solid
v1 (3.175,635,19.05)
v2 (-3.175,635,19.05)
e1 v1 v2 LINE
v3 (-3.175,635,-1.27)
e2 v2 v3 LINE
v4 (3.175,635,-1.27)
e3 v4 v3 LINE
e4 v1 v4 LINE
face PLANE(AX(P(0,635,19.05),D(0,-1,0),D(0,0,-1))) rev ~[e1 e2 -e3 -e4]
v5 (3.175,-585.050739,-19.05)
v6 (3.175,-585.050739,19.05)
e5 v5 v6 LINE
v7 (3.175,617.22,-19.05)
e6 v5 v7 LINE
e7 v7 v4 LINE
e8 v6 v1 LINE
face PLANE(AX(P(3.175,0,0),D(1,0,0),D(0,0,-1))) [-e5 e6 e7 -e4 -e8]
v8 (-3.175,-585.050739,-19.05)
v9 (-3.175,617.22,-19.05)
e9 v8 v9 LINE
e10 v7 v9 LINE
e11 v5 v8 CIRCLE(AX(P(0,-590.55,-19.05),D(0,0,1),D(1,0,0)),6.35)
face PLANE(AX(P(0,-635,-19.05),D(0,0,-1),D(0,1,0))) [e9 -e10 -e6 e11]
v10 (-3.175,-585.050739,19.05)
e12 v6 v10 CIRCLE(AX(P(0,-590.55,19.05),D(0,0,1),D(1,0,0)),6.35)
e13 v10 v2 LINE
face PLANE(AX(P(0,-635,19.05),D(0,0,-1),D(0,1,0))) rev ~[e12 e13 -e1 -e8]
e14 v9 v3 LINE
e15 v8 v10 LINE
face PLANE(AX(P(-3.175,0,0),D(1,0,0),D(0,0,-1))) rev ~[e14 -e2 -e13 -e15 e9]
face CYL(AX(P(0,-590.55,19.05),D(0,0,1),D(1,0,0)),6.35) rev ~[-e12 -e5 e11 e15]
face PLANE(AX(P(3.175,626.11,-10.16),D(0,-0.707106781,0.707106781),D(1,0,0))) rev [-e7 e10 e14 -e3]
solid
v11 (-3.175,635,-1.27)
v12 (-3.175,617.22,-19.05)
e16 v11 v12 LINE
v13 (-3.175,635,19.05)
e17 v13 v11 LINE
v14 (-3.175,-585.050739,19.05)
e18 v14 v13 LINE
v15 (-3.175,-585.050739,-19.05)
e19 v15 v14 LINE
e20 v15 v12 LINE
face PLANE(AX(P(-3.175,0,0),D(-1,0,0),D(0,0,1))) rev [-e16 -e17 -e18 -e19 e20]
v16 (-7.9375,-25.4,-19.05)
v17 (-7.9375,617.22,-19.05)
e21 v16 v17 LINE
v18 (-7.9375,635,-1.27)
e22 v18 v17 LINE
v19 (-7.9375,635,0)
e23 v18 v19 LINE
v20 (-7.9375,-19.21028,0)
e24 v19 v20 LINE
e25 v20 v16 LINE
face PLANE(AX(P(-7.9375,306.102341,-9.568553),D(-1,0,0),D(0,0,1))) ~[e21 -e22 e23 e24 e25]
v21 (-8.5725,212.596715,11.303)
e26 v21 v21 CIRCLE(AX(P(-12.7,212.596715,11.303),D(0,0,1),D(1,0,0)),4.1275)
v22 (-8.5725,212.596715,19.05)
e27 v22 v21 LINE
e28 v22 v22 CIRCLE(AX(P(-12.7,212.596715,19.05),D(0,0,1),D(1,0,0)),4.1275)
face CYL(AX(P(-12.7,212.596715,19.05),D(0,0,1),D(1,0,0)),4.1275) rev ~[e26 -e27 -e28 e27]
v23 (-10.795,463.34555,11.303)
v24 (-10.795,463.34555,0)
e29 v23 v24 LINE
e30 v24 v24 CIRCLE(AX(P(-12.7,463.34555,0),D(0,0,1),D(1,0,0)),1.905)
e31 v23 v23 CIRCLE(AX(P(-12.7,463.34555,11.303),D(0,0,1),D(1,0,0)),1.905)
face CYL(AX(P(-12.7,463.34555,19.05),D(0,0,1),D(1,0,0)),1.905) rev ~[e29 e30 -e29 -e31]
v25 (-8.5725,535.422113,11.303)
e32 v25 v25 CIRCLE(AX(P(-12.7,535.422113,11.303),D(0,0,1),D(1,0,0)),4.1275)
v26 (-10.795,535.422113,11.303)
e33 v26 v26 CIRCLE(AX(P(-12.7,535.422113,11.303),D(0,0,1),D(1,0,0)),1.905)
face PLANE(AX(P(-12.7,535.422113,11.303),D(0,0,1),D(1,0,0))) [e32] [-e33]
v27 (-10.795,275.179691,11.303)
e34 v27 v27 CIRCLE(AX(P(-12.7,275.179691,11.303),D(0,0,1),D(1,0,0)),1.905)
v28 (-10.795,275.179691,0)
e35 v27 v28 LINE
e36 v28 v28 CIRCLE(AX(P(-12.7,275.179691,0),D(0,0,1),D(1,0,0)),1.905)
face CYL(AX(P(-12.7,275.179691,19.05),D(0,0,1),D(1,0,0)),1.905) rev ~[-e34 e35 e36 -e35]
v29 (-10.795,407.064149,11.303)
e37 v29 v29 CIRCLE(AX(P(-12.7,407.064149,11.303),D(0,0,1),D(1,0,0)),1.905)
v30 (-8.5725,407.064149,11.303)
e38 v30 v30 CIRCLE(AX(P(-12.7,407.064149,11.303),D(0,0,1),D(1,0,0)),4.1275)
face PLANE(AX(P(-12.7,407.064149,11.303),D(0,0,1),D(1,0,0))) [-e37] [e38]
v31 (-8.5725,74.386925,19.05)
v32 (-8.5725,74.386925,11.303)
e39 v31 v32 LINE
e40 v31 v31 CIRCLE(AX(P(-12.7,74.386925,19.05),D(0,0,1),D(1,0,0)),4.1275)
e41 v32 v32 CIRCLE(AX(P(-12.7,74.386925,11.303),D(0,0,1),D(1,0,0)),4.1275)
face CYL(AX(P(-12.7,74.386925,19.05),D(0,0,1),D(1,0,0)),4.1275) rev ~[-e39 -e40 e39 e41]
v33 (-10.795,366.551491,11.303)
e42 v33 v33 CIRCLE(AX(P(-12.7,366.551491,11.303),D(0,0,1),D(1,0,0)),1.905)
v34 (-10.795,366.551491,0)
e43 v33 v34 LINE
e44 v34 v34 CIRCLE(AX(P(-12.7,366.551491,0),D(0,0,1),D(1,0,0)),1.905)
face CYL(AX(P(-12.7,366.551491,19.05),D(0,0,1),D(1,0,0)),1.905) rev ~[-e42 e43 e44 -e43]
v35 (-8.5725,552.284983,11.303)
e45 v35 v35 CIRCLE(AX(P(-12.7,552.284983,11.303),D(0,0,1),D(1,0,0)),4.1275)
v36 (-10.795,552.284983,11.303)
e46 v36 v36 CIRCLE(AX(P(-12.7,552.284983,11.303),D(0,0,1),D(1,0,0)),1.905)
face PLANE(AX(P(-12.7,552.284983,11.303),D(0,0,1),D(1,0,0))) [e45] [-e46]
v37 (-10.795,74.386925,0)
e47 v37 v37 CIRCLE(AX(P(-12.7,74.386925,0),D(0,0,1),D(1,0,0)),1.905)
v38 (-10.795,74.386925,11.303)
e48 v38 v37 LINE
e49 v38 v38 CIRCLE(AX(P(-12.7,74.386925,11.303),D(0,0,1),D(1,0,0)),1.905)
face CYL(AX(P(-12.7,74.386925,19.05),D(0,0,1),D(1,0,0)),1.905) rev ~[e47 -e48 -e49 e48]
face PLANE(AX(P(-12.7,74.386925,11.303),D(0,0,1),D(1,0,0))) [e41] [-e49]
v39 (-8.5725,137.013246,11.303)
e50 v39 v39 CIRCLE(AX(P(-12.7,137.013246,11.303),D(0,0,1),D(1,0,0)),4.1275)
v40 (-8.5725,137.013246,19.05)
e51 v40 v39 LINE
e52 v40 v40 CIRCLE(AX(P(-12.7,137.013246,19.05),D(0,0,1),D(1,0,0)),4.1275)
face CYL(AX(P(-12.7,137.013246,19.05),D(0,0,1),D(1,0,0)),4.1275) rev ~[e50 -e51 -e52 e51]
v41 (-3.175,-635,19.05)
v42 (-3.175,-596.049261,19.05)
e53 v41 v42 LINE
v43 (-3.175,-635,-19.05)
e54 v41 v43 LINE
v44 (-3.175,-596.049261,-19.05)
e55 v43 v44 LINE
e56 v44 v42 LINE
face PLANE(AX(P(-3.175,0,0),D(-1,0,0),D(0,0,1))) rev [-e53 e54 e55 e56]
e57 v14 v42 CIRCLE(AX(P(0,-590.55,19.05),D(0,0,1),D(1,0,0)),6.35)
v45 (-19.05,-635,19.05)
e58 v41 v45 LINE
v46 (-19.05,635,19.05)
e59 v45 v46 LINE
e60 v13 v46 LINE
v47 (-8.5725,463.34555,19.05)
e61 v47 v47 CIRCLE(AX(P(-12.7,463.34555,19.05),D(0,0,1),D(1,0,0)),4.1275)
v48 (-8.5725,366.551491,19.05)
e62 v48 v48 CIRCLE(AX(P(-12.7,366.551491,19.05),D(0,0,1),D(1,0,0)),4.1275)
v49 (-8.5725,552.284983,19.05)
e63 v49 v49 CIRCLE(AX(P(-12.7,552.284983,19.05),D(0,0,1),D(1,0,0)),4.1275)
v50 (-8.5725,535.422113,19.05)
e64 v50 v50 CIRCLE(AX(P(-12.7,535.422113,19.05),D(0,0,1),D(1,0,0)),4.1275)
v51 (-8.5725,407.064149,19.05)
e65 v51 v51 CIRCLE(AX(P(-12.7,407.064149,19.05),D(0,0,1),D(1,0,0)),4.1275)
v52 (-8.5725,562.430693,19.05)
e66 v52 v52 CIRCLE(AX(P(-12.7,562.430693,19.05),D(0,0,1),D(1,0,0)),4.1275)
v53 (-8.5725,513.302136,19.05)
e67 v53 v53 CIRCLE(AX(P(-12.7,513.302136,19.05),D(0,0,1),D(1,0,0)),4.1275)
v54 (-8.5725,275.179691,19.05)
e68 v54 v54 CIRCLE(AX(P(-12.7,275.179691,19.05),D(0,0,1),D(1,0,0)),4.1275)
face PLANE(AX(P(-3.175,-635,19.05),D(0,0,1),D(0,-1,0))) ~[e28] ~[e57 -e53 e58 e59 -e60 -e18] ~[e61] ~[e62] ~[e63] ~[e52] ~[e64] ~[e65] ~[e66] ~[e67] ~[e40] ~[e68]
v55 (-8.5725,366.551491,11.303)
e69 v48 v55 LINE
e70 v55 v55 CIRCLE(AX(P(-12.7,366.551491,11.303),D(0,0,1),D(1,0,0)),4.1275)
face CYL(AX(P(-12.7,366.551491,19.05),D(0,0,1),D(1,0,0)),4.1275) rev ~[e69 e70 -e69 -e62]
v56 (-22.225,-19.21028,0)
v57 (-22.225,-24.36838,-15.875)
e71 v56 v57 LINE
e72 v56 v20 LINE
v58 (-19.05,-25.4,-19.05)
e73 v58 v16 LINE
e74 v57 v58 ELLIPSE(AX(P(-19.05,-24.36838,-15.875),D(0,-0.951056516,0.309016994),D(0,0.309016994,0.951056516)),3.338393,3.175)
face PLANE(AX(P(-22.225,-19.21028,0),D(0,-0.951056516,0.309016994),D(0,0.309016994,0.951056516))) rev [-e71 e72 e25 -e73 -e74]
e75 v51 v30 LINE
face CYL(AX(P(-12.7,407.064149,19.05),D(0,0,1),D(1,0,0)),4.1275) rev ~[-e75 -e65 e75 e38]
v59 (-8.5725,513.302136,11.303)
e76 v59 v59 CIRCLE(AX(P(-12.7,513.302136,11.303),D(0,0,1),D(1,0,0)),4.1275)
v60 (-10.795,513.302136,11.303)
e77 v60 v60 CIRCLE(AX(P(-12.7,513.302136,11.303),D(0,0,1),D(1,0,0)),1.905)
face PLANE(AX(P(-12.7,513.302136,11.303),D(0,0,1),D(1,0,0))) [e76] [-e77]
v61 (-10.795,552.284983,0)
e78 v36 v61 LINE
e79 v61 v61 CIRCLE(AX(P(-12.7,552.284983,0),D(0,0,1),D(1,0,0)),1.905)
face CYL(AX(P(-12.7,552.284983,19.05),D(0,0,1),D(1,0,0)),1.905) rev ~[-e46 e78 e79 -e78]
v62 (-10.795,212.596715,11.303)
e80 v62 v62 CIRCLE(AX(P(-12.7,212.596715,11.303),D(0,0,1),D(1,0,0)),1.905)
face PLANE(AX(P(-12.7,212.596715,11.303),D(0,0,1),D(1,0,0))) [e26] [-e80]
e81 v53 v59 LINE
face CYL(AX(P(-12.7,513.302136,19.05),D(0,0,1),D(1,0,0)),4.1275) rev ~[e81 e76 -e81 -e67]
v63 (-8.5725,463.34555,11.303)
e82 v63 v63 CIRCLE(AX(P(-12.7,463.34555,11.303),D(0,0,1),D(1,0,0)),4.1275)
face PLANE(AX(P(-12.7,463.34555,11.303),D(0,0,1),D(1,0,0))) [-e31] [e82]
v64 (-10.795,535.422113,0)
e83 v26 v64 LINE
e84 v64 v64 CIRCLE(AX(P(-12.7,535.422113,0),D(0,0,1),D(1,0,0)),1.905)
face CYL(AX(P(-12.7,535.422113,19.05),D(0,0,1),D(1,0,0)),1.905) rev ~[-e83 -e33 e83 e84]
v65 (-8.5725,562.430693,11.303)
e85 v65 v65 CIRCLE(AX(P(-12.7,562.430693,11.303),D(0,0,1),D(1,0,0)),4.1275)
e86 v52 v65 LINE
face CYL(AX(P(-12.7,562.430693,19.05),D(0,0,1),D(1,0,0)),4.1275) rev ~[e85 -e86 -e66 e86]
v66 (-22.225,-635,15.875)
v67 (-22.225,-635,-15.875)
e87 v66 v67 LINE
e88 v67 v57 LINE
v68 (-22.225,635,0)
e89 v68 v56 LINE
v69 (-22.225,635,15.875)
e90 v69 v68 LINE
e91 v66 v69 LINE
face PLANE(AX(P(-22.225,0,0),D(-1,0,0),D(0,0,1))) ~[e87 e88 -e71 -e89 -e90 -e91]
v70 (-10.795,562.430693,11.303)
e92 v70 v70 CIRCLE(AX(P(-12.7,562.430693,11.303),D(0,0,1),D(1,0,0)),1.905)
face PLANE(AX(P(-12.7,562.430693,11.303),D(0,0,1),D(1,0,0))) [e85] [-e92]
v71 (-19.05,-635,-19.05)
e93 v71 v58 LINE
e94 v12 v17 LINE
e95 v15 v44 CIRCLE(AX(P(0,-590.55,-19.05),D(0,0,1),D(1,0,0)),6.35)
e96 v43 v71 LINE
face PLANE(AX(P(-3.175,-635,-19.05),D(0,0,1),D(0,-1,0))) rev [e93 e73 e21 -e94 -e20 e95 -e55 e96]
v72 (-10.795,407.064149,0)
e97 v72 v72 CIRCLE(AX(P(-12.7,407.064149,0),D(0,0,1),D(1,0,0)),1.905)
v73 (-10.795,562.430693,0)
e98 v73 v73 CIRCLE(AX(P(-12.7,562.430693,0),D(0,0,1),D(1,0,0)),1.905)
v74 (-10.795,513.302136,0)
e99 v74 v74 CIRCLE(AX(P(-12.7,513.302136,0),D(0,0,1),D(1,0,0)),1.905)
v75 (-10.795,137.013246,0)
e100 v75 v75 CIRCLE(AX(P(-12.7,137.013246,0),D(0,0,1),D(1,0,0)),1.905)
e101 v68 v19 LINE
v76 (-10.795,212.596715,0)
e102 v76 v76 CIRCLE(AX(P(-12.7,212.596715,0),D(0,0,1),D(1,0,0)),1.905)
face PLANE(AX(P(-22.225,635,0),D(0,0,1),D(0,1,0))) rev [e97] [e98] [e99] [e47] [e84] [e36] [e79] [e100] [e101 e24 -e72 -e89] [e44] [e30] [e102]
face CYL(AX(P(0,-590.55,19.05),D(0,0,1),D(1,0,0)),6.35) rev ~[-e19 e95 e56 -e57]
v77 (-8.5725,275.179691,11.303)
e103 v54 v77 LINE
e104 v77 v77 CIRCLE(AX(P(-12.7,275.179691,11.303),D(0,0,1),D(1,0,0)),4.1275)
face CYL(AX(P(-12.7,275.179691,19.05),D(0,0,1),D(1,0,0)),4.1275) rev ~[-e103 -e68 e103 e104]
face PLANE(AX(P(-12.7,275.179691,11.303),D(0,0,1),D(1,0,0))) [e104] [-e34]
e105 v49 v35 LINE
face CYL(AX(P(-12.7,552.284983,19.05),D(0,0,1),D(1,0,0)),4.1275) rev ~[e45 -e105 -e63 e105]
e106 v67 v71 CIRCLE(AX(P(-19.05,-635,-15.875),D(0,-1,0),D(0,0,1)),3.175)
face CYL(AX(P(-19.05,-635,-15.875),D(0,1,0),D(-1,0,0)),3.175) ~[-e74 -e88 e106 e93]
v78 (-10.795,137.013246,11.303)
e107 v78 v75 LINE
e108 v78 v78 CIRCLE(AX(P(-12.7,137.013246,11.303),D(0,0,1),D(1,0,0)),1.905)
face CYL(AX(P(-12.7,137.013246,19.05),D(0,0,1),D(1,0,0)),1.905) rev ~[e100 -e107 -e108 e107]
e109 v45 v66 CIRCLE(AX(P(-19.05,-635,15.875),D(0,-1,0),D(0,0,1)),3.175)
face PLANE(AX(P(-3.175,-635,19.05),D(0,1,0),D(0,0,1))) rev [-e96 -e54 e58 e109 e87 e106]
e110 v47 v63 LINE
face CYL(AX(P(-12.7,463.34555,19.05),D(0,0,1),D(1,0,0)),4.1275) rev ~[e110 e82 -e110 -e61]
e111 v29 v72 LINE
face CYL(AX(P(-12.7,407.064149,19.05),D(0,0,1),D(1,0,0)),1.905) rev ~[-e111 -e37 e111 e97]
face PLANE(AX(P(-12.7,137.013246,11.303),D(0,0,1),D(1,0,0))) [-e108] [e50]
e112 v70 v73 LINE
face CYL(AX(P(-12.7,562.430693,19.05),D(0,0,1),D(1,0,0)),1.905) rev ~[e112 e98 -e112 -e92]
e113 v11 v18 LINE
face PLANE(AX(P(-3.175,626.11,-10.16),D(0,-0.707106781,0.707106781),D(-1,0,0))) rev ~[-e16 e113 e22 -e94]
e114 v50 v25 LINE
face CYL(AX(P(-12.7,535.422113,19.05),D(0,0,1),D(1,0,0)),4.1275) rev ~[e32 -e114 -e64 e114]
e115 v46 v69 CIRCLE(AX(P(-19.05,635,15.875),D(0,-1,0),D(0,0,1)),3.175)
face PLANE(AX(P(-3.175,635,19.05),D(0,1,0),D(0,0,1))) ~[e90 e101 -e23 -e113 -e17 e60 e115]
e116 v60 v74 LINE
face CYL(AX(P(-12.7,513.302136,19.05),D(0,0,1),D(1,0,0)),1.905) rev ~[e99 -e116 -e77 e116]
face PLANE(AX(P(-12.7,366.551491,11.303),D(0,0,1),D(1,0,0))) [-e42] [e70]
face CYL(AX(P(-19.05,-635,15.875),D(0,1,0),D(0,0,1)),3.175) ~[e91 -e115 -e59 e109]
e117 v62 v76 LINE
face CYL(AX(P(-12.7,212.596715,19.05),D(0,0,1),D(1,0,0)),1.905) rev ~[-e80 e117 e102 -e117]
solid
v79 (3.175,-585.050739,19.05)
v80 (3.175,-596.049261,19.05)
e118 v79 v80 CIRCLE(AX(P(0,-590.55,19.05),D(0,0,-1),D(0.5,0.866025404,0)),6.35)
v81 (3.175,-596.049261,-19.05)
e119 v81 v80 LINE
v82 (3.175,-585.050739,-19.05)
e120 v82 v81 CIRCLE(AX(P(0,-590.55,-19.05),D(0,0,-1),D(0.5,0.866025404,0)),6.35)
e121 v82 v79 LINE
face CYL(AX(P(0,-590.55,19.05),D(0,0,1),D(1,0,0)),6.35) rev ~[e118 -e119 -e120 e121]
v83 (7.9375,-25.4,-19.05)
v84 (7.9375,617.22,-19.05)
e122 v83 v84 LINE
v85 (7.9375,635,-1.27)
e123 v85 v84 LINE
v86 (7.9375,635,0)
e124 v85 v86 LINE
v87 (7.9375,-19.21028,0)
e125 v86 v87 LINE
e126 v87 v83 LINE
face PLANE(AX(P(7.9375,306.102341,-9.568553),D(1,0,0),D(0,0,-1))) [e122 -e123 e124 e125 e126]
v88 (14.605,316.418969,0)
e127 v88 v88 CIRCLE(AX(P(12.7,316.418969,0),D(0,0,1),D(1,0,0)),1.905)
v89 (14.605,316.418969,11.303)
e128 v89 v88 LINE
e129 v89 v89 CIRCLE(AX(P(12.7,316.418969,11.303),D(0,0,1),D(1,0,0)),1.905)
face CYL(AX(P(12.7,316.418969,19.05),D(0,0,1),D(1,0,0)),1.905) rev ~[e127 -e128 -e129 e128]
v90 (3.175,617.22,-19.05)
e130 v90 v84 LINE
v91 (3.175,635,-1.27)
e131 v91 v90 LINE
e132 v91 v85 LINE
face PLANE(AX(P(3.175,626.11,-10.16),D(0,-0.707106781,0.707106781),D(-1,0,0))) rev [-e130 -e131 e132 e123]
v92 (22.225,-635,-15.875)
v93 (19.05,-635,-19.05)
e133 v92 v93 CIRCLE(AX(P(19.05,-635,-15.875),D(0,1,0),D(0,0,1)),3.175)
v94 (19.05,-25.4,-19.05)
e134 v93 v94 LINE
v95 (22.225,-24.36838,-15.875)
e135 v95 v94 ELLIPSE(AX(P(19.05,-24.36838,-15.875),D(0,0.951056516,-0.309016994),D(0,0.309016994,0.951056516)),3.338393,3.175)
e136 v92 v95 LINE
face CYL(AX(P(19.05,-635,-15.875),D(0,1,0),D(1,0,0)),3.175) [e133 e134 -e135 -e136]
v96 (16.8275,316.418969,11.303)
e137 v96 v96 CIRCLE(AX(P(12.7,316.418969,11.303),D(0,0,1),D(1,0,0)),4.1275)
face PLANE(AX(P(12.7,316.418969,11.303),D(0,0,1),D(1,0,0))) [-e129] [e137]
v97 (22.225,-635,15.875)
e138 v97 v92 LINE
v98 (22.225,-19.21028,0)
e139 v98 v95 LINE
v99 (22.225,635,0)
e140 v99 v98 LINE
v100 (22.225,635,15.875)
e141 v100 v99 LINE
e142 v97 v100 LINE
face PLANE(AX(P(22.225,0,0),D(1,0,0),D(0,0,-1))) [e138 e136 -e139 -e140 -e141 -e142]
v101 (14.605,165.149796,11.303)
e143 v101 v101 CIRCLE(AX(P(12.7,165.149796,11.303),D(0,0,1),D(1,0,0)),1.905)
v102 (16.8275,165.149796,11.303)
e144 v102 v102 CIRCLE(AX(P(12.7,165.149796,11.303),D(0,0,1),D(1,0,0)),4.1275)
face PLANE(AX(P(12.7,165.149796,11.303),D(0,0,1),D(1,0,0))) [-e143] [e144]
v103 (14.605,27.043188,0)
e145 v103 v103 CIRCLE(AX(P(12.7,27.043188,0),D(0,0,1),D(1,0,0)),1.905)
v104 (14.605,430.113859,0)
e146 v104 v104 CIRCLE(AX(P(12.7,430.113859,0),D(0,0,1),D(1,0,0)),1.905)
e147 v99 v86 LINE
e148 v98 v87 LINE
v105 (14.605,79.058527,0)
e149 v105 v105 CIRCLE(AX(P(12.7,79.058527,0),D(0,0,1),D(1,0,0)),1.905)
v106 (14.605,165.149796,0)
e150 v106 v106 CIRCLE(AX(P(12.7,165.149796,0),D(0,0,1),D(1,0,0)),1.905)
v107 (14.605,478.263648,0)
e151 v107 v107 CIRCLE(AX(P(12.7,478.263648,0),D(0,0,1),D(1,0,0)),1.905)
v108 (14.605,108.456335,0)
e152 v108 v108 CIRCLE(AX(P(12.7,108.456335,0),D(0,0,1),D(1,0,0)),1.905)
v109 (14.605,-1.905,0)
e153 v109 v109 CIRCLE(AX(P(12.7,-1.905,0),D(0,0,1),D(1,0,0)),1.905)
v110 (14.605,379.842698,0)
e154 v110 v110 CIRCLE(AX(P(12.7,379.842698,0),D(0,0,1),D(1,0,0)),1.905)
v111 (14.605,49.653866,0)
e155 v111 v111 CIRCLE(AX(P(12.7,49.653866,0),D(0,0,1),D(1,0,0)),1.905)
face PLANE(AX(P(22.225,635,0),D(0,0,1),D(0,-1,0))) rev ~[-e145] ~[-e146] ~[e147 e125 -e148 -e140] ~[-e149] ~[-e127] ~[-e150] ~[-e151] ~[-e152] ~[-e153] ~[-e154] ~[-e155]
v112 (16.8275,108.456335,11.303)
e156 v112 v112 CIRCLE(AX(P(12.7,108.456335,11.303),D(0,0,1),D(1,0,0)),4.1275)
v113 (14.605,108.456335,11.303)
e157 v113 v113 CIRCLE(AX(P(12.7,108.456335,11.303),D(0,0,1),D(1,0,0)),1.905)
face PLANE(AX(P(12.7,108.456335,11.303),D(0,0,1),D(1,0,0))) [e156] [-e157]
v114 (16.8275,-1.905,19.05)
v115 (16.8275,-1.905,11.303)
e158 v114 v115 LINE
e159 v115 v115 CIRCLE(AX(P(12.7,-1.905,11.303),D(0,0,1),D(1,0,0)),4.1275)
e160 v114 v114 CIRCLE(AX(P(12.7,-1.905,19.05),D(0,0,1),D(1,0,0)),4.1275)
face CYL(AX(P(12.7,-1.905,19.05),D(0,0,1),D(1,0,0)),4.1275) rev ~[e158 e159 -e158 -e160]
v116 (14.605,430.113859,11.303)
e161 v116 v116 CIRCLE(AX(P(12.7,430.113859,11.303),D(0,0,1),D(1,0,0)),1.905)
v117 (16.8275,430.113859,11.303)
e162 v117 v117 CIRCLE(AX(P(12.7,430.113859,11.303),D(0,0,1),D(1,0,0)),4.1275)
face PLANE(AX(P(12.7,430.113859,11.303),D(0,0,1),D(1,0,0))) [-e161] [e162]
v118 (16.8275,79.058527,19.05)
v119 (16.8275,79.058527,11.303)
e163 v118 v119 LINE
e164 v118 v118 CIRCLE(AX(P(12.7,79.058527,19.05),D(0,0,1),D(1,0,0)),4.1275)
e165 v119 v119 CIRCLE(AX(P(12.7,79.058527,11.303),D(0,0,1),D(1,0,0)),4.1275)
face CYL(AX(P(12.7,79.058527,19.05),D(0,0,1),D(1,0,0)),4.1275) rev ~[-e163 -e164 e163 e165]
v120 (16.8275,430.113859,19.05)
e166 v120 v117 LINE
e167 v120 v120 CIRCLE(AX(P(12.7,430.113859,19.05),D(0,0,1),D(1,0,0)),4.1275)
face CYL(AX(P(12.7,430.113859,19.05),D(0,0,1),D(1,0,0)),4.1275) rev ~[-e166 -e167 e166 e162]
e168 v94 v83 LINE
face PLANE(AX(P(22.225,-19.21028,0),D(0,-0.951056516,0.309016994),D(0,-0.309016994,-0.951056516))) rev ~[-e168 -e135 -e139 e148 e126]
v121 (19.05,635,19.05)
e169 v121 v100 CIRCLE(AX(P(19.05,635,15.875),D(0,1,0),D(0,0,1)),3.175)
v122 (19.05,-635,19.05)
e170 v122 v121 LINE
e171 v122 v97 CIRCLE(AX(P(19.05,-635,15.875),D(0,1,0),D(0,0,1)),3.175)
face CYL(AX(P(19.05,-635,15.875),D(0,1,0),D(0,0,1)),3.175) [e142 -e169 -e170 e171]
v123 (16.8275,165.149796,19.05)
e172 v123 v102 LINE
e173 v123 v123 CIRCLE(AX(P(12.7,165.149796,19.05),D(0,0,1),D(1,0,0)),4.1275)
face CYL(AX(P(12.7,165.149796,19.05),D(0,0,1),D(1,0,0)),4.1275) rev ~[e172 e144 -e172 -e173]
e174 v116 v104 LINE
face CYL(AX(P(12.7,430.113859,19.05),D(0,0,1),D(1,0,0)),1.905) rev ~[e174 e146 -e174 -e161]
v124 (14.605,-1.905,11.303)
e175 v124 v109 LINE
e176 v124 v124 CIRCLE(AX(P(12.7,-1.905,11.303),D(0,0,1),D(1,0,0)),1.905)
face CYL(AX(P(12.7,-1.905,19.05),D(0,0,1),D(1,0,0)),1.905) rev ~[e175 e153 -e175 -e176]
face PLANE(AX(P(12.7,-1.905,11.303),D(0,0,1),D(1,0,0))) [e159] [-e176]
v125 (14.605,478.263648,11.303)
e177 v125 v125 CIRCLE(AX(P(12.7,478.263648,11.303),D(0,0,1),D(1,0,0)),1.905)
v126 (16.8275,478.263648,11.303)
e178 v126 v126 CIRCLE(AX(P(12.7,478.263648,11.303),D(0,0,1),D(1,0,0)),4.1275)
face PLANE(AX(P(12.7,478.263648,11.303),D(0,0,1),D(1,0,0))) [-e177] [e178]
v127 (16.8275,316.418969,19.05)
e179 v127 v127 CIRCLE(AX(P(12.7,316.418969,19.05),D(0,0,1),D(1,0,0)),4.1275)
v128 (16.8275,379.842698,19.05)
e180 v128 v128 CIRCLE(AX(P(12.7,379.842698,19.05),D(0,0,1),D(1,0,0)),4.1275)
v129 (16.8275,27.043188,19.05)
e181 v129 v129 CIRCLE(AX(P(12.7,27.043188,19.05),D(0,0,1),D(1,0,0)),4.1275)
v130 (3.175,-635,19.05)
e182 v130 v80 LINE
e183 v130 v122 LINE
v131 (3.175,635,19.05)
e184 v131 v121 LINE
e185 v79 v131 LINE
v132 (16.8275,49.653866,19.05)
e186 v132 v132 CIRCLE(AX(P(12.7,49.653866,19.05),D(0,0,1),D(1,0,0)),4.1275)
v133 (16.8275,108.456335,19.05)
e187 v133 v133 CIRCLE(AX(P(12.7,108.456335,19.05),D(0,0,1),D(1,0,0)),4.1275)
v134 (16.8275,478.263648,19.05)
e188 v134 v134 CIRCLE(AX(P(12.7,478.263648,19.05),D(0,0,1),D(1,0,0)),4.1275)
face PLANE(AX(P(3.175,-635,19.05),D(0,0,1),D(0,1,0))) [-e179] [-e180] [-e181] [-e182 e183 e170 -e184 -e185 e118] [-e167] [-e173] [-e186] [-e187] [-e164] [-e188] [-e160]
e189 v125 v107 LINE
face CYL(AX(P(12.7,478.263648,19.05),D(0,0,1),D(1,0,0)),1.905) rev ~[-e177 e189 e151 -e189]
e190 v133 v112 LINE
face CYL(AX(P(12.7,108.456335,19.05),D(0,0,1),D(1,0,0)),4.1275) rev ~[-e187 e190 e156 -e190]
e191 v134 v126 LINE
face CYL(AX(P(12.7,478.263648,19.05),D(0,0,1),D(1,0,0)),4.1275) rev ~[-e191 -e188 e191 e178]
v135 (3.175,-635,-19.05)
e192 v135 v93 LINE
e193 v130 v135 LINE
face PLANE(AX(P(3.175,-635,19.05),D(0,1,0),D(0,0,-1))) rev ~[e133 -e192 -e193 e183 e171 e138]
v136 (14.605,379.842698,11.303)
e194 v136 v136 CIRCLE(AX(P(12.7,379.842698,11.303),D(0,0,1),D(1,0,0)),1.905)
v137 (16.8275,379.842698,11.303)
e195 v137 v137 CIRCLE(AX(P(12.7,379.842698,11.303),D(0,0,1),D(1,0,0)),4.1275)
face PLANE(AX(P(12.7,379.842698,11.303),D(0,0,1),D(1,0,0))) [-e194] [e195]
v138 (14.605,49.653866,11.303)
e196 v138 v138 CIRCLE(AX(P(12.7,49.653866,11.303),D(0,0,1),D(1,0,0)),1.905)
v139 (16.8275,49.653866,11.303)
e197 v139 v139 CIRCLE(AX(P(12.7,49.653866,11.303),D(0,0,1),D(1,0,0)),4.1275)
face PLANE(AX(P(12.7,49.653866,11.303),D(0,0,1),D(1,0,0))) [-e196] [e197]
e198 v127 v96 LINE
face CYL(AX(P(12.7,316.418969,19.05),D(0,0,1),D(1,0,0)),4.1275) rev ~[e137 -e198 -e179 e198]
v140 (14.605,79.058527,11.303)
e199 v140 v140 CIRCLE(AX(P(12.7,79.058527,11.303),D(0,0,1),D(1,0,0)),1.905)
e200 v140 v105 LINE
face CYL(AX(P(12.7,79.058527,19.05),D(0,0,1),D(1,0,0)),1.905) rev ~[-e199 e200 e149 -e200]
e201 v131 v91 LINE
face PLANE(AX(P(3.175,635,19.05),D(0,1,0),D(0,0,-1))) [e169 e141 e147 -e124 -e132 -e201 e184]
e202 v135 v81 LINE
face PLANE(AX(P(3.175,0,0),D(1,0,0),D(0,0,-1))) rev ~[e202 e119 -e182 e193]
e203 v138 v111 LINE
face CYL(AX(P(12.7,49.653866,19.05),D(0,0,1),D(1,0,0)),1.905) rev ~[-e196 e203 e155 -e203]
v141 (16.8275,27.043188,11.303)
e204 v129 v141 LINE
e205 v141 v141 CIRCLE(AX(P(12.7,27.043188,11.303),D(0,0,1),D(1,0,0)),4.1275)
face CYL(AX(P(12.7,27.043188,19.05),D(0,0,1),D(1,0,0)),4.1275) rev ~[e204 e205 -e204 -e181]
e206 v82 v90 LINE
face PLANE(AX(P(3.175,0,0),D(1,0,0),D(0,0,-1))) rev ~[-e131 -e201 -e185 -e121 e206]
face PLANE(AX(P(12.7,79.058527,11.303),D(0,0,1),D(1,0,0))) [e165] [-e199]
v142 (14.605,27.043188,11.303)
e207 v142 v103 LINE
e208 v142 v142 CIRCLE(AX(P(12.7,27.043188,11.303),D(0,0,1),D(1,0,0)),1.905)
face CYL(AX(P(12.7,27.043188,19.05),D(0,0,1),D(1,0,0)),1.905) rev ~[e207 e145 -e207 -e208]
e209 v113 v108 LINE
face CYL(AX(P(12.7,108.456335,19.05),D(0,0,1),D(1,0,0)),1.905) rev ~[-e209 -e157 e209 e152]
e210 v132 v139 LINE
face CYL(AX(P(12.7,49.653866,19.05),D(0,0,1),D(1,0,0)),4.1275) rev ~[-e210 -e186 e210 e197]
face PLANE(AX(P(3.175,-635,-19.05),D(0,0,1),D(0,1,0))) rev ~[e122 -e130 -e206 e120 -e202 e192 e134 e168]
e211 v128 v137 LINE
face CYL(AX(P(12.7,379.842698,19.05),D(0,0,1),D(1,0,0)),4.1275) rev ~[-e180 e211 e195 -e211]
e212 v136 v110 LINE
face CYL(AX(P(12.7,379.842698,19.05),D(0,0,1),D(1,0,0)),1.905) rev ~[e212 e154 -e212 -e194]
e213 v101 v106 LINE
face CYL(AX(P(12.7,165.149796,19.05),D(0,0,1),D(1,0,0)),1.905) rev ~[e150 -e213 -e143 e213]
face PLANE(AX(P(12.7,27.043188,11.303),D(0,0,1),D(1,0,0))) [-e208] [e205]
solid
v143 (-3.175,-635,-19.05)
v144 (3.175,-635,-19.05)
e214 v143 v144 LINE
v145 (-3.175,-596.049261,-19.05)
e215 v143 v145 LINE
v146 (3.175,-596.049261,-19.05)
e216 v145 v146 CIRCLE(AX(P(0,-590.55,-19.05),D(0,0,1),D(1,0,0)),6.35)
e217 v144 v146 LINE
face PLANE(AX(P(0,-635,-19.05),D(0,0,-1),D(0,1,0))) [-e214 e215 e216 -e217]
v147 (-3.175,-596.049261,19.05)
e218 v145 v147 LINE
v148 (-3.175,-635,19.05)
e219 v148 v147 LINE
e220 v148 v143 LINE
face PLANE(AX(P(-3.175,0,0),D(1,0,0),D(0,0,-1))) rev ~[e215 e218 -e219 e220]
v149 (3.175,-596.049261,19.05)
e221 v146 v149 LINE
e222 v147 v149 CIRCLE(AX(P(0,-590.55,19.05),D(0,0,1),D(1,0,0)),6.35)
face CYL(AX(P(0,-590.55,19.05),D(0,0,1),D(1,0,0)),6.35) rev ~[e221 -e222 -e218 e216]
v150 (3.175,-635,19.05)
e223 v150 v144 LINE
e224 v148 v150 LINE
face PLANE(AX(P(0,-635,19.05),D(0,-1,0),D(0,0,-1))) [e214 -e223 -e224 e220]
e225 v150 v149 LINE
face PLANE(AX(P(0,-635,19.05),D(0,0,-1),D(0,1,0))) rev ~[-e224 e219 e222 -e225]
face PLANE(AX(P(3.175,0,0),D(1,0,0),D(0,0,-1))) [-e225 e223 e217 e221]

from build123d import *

# Parameters (mm, degrees)
SKETCH1_W           = 38.1
SKETCH1_H           = 1270
BOSS_EXTRUDE1_DEPTH = 3.175
SKETCH8_W           = 38.1
SKETCH8_H           = 1270
BOSS_EXTRUDE2_DEPTH = 19.05
CUT_EXTRUDE6_DEPTH  = 14.2875
FILLET1_R           = 3.175
CHAMFER1_SIZE       = 17.78
CHAMFER2_SIZE       = 17.78
SKETCH2_R           = 6.35
CUT_EXTRUDE1_DEPTH  = 637.530094045
SKETCH5_R           = 1.905
CUT_EXTRUDE3_DEPTH  = 637.530094045
SKETCH6_R           = 4.1275
CUT_EXTRUDE4_DEPTH  = 7.747


with BuildPart() as part:
    # Sketch1 → Boss-Extrude1 (new, symmetric)
    with BuildSketch(Plane(origin=(0, 0, 0), x_dir=(0, 0, -1), z_dir=(1, 0, 0))):
        Rectangle(SKETCH1_W, SKETCH1_H)
    extrude(amount=BOSS_EXTRUDE1_DEPTH, both=True)

    # Chamfer2
    chamfer2_edges = [part.edges().sort_by_distance(p)[0] for p in [
        (0, 635, -19.05),
    ]]
    chamfer(chamfer2_edges, length=CHAMFER2_SIZE)


with BuildPart() as body_2:
    # Sketch8 → Boss-Extrude2 (new body)
    with BuildSketch(Plane(origin=(3.175, 0, 0), x_dir=(0, 0, -1), z_dir=(1, 0, 0))):
        Rectangle(SKETCH8_W, SKETCH8_H)
    extrude(amount=BOSS_EXTRUDE2_DEPTH)

    # Sketch10 → Cut-Extrude6 (cut)
    with BuildSketch(Plane(origin=(22.225, 0, 0), x_dir=(0, 0, -1), z_dir=(1, 0, 0))):
        Polygon((19.05, 635), (0, 635), (0, -19.210279787), (19.05, -25.4), align=None)
    extrude(amount=-CUT_EXTRUDE6_DEPTH, mode=Mode.SUBTRACT)

    # Fillet1
    fillet1_edges = [body_2.edges().sort_by_distance(p)[0] for p in [
        (22.225, -330.2, -19.05),
        (22.225, 0, 19.05),
    ]]
    fillet(fillet1_edges, radius=FILLET1_R)

    # Chamfer1
    chamfer1_edges = [body_2.edges().sort_by_distance(p)[0] for p in [
        (5.55625, 635, -19.05),
    ]]
    chamfer(chamfer1_edges, length=CHAMFER1_SIZE)


with BuildPart() as body_3:
    # Mirror3: mirrored copy
    add(body_2.part.mirror(Plane(origin=(0, 0, 0), x_dir=(0, 0, 1), z_dir=(1, 0, 0))))


with BuildPart() as cut_extrude1_tool:
    # Sketch2 → Cut-Extrude1 (new, through all)
    with BuildSketch(Plane.XY.offset(19.05)):
        with Locations((0, -590.55)):
            Circle(SKETCH2_R)
    extrude(amount=-CUT_EXTRUDE1_DEPTH)


with BuildPart() as part_1:
    add(part.part)

    # Cut-Extrude1: cut by cut_extrude1_tool
    add(cut_extrude1_tool.part, mode=Mode.SUBTRACT)


with BuildPart() as body_2_1:
    add(body_2.part)

    # Cut-Extrude1: cut by cut_extrude1_tool
    add(cut_extrude1_tool.part, mode=Mode.SUBTRACT)


with BuildPart() as body_3_1:
    add(body_3.part)

    # Cut-Extrude1: cut by cut_extrude1_tool
    add(cut_extrude1_tool.part, mode=Mode.SUBTRACT)


with BuildPart() as cut_extrude3_tool:
    # Sketch5 → Cut-Extrude3 (new, through all)
    with BuildSketch(Plane.XY.offset(19.05)):
        with Locations((-12.7, 513.302135886)):
            Circle(SKETCH5_R)
        with Locations((12.7, 478.263647874)):
            Circle(SKETCH5_R)
        with Locations((-12.7, 463.345550332)):
            Circle(SKETCH5_R)
        with Locations((12.7, 430.113859098)):
            Circle(SKETCH5_R)
        with Locations((-12.7, 407.064148942)):
            Circle(SKETCH5_R)
        with Locations((12.7, 379.842698104)):
            Circle(SKETCH5_R)
        with Locations((-12.7, 366.551491472)):
            Circle(SKETCH5_R)
        with Locations((12.7, 316.418969048)):
            Circle(SKETCH5_R)
        with Locations((-12.7, 535.422112699)):
            Circle(SKETCH5_R)
        with Locations((-12.7, 552.28498253)):
            Circle(SKETCH5_R)
        with Locations((-12.7, 562.430692594)):
            Circle(SKETCH5_R)
        with Locations((12.7, 165.149796436)):
            Circle(SKETCH5_R)
        with Locations((12.7, 108.45633512)):
            Circle(SKETCH5_R)
        with Locations((12.7, 79.058526758)):
            Circle(SKETCH5_R)
        with Locations((12.7, 49.653866377)):
            Circle(SKETCH5_R)
        with Locations((12.7, 27.043187605)):
            Circle(SKETCH5_R)
        with Locations((12.7, -1.905)):
            Circle(SKETCH5_R)
        with Locations((-12.7, 74.386924519)):
            Circle(SKETCH5_R)
        with Locations((-12.7, 137.013245544)):
            Circle(SKETCH5_R)
        with Locations((-12.7, 212.596714918)):
            Circle(SKETCH5_R)
        with Locations((-12.7, 275.179690854)):
            Circle(SKETCH5_R)
    extrude(amount=-CUT_EXTRUDE3_DEPTH)


with BuildPart() as body_2_2:
    add(body_2_1.part)

    # Cut-Extrude3: cut by cut_extrude3_tool
    add(cut_extrude3_tool.part, mode=Mode.SUBTRACT)


with BuildPart() as body_3_2:
    add(body_3_1.part)

    # Cut-Extrude3: cut by cut_extrude3_tool
    add(cut_extrude3_tool.part, mode=Mode.SUBTRACT)


with BuildPart() as cut_extrude4_tool:
    # Sketch6 → Cut-Extrude4 (new body)
    with BuildSketch(Plane.XY.offset(19.05)):
        with Locations((-12.7, 513.302135886)):
            Circle(SKETCH6_R)
        with Locations((12.7, 478.263647874)):
            Circle(SKETCH6_R)
        with Locations((-12.7, 463.345550332)):
            Circle(SKETCH6_R)
        with Locations((12.7, 430.113859098)):
            Circle(SKETCH6_R)
        with Locations((12.7, 379.842698104)):
            Circle(SKETCH6_R)
        with Locations((12.7, 316.418969048)):
            Circle(SKETCH6_R)
        with Locations((-12.7, 366.551491472)):
            Circle(SKETCH6_R)
        with Locations((-12.7, 407.064148942)):
            Circle(SKETCH6_R)
        with Locations((-12.7, 562.430692594)):
            Circle(SKETCH6_R)
        with Locations((-12.7, 552.28498253)):
            Circle(SKETCH6_R)
        with Locations((-12.7, 535.422112699)):
            Circle(SKETCH6_R)
        with Locations((-12.7, 275.179690854)):
            Circle(SKETCH6_R)
        with Locations((-12.7, 212.596714918)):
            Circle(SKETCH6_R)
        with Locations((12.7, 165.149796436)):
            Circle(SKETCH6_R)
        with Locations((-12.7, 137.013245544)):
            Circle(SKETCH6_R)
        with Locations((12.7, 108.45633512)):
            Circle(SKETCH6_R)
        with Locations((12.7, 79.058526758)):
            Circle(SKETCH6_R)
        with Locations((-12.7, 74.386924519)):
            Circle(SKETCH6_R)
        with Locations((12.7, 49.653866377)):
            Circle(SKETCH6_R)
        with Locations((12.7, 27.043187605)):
            Circle(SKETCH6_R)
        with Locations((12.7, -1.905)):
            Circle(SKETCH6_R)
    extrude(amount=-CUT_EXTRUDE4_DEPTH)


with BuildPart() as body_2_3:
    add(body_2_2.part)

    # Cut-Extrude4: cut by cut_extrude4_tool
    add(cut_extrude4_tool.part, mode=Mode.SUBTRACT)


with BuildPart() as body_3_3:
    add(body_3_2.part)

    # Cut-Extrude4: cut by cut_extrude4_tool
    add(cut_extrude4_tool.part, mode=Mode.SUBTRACT)


solid = Compound([part_1.part, body_2_3.part, body_3_3.part])
